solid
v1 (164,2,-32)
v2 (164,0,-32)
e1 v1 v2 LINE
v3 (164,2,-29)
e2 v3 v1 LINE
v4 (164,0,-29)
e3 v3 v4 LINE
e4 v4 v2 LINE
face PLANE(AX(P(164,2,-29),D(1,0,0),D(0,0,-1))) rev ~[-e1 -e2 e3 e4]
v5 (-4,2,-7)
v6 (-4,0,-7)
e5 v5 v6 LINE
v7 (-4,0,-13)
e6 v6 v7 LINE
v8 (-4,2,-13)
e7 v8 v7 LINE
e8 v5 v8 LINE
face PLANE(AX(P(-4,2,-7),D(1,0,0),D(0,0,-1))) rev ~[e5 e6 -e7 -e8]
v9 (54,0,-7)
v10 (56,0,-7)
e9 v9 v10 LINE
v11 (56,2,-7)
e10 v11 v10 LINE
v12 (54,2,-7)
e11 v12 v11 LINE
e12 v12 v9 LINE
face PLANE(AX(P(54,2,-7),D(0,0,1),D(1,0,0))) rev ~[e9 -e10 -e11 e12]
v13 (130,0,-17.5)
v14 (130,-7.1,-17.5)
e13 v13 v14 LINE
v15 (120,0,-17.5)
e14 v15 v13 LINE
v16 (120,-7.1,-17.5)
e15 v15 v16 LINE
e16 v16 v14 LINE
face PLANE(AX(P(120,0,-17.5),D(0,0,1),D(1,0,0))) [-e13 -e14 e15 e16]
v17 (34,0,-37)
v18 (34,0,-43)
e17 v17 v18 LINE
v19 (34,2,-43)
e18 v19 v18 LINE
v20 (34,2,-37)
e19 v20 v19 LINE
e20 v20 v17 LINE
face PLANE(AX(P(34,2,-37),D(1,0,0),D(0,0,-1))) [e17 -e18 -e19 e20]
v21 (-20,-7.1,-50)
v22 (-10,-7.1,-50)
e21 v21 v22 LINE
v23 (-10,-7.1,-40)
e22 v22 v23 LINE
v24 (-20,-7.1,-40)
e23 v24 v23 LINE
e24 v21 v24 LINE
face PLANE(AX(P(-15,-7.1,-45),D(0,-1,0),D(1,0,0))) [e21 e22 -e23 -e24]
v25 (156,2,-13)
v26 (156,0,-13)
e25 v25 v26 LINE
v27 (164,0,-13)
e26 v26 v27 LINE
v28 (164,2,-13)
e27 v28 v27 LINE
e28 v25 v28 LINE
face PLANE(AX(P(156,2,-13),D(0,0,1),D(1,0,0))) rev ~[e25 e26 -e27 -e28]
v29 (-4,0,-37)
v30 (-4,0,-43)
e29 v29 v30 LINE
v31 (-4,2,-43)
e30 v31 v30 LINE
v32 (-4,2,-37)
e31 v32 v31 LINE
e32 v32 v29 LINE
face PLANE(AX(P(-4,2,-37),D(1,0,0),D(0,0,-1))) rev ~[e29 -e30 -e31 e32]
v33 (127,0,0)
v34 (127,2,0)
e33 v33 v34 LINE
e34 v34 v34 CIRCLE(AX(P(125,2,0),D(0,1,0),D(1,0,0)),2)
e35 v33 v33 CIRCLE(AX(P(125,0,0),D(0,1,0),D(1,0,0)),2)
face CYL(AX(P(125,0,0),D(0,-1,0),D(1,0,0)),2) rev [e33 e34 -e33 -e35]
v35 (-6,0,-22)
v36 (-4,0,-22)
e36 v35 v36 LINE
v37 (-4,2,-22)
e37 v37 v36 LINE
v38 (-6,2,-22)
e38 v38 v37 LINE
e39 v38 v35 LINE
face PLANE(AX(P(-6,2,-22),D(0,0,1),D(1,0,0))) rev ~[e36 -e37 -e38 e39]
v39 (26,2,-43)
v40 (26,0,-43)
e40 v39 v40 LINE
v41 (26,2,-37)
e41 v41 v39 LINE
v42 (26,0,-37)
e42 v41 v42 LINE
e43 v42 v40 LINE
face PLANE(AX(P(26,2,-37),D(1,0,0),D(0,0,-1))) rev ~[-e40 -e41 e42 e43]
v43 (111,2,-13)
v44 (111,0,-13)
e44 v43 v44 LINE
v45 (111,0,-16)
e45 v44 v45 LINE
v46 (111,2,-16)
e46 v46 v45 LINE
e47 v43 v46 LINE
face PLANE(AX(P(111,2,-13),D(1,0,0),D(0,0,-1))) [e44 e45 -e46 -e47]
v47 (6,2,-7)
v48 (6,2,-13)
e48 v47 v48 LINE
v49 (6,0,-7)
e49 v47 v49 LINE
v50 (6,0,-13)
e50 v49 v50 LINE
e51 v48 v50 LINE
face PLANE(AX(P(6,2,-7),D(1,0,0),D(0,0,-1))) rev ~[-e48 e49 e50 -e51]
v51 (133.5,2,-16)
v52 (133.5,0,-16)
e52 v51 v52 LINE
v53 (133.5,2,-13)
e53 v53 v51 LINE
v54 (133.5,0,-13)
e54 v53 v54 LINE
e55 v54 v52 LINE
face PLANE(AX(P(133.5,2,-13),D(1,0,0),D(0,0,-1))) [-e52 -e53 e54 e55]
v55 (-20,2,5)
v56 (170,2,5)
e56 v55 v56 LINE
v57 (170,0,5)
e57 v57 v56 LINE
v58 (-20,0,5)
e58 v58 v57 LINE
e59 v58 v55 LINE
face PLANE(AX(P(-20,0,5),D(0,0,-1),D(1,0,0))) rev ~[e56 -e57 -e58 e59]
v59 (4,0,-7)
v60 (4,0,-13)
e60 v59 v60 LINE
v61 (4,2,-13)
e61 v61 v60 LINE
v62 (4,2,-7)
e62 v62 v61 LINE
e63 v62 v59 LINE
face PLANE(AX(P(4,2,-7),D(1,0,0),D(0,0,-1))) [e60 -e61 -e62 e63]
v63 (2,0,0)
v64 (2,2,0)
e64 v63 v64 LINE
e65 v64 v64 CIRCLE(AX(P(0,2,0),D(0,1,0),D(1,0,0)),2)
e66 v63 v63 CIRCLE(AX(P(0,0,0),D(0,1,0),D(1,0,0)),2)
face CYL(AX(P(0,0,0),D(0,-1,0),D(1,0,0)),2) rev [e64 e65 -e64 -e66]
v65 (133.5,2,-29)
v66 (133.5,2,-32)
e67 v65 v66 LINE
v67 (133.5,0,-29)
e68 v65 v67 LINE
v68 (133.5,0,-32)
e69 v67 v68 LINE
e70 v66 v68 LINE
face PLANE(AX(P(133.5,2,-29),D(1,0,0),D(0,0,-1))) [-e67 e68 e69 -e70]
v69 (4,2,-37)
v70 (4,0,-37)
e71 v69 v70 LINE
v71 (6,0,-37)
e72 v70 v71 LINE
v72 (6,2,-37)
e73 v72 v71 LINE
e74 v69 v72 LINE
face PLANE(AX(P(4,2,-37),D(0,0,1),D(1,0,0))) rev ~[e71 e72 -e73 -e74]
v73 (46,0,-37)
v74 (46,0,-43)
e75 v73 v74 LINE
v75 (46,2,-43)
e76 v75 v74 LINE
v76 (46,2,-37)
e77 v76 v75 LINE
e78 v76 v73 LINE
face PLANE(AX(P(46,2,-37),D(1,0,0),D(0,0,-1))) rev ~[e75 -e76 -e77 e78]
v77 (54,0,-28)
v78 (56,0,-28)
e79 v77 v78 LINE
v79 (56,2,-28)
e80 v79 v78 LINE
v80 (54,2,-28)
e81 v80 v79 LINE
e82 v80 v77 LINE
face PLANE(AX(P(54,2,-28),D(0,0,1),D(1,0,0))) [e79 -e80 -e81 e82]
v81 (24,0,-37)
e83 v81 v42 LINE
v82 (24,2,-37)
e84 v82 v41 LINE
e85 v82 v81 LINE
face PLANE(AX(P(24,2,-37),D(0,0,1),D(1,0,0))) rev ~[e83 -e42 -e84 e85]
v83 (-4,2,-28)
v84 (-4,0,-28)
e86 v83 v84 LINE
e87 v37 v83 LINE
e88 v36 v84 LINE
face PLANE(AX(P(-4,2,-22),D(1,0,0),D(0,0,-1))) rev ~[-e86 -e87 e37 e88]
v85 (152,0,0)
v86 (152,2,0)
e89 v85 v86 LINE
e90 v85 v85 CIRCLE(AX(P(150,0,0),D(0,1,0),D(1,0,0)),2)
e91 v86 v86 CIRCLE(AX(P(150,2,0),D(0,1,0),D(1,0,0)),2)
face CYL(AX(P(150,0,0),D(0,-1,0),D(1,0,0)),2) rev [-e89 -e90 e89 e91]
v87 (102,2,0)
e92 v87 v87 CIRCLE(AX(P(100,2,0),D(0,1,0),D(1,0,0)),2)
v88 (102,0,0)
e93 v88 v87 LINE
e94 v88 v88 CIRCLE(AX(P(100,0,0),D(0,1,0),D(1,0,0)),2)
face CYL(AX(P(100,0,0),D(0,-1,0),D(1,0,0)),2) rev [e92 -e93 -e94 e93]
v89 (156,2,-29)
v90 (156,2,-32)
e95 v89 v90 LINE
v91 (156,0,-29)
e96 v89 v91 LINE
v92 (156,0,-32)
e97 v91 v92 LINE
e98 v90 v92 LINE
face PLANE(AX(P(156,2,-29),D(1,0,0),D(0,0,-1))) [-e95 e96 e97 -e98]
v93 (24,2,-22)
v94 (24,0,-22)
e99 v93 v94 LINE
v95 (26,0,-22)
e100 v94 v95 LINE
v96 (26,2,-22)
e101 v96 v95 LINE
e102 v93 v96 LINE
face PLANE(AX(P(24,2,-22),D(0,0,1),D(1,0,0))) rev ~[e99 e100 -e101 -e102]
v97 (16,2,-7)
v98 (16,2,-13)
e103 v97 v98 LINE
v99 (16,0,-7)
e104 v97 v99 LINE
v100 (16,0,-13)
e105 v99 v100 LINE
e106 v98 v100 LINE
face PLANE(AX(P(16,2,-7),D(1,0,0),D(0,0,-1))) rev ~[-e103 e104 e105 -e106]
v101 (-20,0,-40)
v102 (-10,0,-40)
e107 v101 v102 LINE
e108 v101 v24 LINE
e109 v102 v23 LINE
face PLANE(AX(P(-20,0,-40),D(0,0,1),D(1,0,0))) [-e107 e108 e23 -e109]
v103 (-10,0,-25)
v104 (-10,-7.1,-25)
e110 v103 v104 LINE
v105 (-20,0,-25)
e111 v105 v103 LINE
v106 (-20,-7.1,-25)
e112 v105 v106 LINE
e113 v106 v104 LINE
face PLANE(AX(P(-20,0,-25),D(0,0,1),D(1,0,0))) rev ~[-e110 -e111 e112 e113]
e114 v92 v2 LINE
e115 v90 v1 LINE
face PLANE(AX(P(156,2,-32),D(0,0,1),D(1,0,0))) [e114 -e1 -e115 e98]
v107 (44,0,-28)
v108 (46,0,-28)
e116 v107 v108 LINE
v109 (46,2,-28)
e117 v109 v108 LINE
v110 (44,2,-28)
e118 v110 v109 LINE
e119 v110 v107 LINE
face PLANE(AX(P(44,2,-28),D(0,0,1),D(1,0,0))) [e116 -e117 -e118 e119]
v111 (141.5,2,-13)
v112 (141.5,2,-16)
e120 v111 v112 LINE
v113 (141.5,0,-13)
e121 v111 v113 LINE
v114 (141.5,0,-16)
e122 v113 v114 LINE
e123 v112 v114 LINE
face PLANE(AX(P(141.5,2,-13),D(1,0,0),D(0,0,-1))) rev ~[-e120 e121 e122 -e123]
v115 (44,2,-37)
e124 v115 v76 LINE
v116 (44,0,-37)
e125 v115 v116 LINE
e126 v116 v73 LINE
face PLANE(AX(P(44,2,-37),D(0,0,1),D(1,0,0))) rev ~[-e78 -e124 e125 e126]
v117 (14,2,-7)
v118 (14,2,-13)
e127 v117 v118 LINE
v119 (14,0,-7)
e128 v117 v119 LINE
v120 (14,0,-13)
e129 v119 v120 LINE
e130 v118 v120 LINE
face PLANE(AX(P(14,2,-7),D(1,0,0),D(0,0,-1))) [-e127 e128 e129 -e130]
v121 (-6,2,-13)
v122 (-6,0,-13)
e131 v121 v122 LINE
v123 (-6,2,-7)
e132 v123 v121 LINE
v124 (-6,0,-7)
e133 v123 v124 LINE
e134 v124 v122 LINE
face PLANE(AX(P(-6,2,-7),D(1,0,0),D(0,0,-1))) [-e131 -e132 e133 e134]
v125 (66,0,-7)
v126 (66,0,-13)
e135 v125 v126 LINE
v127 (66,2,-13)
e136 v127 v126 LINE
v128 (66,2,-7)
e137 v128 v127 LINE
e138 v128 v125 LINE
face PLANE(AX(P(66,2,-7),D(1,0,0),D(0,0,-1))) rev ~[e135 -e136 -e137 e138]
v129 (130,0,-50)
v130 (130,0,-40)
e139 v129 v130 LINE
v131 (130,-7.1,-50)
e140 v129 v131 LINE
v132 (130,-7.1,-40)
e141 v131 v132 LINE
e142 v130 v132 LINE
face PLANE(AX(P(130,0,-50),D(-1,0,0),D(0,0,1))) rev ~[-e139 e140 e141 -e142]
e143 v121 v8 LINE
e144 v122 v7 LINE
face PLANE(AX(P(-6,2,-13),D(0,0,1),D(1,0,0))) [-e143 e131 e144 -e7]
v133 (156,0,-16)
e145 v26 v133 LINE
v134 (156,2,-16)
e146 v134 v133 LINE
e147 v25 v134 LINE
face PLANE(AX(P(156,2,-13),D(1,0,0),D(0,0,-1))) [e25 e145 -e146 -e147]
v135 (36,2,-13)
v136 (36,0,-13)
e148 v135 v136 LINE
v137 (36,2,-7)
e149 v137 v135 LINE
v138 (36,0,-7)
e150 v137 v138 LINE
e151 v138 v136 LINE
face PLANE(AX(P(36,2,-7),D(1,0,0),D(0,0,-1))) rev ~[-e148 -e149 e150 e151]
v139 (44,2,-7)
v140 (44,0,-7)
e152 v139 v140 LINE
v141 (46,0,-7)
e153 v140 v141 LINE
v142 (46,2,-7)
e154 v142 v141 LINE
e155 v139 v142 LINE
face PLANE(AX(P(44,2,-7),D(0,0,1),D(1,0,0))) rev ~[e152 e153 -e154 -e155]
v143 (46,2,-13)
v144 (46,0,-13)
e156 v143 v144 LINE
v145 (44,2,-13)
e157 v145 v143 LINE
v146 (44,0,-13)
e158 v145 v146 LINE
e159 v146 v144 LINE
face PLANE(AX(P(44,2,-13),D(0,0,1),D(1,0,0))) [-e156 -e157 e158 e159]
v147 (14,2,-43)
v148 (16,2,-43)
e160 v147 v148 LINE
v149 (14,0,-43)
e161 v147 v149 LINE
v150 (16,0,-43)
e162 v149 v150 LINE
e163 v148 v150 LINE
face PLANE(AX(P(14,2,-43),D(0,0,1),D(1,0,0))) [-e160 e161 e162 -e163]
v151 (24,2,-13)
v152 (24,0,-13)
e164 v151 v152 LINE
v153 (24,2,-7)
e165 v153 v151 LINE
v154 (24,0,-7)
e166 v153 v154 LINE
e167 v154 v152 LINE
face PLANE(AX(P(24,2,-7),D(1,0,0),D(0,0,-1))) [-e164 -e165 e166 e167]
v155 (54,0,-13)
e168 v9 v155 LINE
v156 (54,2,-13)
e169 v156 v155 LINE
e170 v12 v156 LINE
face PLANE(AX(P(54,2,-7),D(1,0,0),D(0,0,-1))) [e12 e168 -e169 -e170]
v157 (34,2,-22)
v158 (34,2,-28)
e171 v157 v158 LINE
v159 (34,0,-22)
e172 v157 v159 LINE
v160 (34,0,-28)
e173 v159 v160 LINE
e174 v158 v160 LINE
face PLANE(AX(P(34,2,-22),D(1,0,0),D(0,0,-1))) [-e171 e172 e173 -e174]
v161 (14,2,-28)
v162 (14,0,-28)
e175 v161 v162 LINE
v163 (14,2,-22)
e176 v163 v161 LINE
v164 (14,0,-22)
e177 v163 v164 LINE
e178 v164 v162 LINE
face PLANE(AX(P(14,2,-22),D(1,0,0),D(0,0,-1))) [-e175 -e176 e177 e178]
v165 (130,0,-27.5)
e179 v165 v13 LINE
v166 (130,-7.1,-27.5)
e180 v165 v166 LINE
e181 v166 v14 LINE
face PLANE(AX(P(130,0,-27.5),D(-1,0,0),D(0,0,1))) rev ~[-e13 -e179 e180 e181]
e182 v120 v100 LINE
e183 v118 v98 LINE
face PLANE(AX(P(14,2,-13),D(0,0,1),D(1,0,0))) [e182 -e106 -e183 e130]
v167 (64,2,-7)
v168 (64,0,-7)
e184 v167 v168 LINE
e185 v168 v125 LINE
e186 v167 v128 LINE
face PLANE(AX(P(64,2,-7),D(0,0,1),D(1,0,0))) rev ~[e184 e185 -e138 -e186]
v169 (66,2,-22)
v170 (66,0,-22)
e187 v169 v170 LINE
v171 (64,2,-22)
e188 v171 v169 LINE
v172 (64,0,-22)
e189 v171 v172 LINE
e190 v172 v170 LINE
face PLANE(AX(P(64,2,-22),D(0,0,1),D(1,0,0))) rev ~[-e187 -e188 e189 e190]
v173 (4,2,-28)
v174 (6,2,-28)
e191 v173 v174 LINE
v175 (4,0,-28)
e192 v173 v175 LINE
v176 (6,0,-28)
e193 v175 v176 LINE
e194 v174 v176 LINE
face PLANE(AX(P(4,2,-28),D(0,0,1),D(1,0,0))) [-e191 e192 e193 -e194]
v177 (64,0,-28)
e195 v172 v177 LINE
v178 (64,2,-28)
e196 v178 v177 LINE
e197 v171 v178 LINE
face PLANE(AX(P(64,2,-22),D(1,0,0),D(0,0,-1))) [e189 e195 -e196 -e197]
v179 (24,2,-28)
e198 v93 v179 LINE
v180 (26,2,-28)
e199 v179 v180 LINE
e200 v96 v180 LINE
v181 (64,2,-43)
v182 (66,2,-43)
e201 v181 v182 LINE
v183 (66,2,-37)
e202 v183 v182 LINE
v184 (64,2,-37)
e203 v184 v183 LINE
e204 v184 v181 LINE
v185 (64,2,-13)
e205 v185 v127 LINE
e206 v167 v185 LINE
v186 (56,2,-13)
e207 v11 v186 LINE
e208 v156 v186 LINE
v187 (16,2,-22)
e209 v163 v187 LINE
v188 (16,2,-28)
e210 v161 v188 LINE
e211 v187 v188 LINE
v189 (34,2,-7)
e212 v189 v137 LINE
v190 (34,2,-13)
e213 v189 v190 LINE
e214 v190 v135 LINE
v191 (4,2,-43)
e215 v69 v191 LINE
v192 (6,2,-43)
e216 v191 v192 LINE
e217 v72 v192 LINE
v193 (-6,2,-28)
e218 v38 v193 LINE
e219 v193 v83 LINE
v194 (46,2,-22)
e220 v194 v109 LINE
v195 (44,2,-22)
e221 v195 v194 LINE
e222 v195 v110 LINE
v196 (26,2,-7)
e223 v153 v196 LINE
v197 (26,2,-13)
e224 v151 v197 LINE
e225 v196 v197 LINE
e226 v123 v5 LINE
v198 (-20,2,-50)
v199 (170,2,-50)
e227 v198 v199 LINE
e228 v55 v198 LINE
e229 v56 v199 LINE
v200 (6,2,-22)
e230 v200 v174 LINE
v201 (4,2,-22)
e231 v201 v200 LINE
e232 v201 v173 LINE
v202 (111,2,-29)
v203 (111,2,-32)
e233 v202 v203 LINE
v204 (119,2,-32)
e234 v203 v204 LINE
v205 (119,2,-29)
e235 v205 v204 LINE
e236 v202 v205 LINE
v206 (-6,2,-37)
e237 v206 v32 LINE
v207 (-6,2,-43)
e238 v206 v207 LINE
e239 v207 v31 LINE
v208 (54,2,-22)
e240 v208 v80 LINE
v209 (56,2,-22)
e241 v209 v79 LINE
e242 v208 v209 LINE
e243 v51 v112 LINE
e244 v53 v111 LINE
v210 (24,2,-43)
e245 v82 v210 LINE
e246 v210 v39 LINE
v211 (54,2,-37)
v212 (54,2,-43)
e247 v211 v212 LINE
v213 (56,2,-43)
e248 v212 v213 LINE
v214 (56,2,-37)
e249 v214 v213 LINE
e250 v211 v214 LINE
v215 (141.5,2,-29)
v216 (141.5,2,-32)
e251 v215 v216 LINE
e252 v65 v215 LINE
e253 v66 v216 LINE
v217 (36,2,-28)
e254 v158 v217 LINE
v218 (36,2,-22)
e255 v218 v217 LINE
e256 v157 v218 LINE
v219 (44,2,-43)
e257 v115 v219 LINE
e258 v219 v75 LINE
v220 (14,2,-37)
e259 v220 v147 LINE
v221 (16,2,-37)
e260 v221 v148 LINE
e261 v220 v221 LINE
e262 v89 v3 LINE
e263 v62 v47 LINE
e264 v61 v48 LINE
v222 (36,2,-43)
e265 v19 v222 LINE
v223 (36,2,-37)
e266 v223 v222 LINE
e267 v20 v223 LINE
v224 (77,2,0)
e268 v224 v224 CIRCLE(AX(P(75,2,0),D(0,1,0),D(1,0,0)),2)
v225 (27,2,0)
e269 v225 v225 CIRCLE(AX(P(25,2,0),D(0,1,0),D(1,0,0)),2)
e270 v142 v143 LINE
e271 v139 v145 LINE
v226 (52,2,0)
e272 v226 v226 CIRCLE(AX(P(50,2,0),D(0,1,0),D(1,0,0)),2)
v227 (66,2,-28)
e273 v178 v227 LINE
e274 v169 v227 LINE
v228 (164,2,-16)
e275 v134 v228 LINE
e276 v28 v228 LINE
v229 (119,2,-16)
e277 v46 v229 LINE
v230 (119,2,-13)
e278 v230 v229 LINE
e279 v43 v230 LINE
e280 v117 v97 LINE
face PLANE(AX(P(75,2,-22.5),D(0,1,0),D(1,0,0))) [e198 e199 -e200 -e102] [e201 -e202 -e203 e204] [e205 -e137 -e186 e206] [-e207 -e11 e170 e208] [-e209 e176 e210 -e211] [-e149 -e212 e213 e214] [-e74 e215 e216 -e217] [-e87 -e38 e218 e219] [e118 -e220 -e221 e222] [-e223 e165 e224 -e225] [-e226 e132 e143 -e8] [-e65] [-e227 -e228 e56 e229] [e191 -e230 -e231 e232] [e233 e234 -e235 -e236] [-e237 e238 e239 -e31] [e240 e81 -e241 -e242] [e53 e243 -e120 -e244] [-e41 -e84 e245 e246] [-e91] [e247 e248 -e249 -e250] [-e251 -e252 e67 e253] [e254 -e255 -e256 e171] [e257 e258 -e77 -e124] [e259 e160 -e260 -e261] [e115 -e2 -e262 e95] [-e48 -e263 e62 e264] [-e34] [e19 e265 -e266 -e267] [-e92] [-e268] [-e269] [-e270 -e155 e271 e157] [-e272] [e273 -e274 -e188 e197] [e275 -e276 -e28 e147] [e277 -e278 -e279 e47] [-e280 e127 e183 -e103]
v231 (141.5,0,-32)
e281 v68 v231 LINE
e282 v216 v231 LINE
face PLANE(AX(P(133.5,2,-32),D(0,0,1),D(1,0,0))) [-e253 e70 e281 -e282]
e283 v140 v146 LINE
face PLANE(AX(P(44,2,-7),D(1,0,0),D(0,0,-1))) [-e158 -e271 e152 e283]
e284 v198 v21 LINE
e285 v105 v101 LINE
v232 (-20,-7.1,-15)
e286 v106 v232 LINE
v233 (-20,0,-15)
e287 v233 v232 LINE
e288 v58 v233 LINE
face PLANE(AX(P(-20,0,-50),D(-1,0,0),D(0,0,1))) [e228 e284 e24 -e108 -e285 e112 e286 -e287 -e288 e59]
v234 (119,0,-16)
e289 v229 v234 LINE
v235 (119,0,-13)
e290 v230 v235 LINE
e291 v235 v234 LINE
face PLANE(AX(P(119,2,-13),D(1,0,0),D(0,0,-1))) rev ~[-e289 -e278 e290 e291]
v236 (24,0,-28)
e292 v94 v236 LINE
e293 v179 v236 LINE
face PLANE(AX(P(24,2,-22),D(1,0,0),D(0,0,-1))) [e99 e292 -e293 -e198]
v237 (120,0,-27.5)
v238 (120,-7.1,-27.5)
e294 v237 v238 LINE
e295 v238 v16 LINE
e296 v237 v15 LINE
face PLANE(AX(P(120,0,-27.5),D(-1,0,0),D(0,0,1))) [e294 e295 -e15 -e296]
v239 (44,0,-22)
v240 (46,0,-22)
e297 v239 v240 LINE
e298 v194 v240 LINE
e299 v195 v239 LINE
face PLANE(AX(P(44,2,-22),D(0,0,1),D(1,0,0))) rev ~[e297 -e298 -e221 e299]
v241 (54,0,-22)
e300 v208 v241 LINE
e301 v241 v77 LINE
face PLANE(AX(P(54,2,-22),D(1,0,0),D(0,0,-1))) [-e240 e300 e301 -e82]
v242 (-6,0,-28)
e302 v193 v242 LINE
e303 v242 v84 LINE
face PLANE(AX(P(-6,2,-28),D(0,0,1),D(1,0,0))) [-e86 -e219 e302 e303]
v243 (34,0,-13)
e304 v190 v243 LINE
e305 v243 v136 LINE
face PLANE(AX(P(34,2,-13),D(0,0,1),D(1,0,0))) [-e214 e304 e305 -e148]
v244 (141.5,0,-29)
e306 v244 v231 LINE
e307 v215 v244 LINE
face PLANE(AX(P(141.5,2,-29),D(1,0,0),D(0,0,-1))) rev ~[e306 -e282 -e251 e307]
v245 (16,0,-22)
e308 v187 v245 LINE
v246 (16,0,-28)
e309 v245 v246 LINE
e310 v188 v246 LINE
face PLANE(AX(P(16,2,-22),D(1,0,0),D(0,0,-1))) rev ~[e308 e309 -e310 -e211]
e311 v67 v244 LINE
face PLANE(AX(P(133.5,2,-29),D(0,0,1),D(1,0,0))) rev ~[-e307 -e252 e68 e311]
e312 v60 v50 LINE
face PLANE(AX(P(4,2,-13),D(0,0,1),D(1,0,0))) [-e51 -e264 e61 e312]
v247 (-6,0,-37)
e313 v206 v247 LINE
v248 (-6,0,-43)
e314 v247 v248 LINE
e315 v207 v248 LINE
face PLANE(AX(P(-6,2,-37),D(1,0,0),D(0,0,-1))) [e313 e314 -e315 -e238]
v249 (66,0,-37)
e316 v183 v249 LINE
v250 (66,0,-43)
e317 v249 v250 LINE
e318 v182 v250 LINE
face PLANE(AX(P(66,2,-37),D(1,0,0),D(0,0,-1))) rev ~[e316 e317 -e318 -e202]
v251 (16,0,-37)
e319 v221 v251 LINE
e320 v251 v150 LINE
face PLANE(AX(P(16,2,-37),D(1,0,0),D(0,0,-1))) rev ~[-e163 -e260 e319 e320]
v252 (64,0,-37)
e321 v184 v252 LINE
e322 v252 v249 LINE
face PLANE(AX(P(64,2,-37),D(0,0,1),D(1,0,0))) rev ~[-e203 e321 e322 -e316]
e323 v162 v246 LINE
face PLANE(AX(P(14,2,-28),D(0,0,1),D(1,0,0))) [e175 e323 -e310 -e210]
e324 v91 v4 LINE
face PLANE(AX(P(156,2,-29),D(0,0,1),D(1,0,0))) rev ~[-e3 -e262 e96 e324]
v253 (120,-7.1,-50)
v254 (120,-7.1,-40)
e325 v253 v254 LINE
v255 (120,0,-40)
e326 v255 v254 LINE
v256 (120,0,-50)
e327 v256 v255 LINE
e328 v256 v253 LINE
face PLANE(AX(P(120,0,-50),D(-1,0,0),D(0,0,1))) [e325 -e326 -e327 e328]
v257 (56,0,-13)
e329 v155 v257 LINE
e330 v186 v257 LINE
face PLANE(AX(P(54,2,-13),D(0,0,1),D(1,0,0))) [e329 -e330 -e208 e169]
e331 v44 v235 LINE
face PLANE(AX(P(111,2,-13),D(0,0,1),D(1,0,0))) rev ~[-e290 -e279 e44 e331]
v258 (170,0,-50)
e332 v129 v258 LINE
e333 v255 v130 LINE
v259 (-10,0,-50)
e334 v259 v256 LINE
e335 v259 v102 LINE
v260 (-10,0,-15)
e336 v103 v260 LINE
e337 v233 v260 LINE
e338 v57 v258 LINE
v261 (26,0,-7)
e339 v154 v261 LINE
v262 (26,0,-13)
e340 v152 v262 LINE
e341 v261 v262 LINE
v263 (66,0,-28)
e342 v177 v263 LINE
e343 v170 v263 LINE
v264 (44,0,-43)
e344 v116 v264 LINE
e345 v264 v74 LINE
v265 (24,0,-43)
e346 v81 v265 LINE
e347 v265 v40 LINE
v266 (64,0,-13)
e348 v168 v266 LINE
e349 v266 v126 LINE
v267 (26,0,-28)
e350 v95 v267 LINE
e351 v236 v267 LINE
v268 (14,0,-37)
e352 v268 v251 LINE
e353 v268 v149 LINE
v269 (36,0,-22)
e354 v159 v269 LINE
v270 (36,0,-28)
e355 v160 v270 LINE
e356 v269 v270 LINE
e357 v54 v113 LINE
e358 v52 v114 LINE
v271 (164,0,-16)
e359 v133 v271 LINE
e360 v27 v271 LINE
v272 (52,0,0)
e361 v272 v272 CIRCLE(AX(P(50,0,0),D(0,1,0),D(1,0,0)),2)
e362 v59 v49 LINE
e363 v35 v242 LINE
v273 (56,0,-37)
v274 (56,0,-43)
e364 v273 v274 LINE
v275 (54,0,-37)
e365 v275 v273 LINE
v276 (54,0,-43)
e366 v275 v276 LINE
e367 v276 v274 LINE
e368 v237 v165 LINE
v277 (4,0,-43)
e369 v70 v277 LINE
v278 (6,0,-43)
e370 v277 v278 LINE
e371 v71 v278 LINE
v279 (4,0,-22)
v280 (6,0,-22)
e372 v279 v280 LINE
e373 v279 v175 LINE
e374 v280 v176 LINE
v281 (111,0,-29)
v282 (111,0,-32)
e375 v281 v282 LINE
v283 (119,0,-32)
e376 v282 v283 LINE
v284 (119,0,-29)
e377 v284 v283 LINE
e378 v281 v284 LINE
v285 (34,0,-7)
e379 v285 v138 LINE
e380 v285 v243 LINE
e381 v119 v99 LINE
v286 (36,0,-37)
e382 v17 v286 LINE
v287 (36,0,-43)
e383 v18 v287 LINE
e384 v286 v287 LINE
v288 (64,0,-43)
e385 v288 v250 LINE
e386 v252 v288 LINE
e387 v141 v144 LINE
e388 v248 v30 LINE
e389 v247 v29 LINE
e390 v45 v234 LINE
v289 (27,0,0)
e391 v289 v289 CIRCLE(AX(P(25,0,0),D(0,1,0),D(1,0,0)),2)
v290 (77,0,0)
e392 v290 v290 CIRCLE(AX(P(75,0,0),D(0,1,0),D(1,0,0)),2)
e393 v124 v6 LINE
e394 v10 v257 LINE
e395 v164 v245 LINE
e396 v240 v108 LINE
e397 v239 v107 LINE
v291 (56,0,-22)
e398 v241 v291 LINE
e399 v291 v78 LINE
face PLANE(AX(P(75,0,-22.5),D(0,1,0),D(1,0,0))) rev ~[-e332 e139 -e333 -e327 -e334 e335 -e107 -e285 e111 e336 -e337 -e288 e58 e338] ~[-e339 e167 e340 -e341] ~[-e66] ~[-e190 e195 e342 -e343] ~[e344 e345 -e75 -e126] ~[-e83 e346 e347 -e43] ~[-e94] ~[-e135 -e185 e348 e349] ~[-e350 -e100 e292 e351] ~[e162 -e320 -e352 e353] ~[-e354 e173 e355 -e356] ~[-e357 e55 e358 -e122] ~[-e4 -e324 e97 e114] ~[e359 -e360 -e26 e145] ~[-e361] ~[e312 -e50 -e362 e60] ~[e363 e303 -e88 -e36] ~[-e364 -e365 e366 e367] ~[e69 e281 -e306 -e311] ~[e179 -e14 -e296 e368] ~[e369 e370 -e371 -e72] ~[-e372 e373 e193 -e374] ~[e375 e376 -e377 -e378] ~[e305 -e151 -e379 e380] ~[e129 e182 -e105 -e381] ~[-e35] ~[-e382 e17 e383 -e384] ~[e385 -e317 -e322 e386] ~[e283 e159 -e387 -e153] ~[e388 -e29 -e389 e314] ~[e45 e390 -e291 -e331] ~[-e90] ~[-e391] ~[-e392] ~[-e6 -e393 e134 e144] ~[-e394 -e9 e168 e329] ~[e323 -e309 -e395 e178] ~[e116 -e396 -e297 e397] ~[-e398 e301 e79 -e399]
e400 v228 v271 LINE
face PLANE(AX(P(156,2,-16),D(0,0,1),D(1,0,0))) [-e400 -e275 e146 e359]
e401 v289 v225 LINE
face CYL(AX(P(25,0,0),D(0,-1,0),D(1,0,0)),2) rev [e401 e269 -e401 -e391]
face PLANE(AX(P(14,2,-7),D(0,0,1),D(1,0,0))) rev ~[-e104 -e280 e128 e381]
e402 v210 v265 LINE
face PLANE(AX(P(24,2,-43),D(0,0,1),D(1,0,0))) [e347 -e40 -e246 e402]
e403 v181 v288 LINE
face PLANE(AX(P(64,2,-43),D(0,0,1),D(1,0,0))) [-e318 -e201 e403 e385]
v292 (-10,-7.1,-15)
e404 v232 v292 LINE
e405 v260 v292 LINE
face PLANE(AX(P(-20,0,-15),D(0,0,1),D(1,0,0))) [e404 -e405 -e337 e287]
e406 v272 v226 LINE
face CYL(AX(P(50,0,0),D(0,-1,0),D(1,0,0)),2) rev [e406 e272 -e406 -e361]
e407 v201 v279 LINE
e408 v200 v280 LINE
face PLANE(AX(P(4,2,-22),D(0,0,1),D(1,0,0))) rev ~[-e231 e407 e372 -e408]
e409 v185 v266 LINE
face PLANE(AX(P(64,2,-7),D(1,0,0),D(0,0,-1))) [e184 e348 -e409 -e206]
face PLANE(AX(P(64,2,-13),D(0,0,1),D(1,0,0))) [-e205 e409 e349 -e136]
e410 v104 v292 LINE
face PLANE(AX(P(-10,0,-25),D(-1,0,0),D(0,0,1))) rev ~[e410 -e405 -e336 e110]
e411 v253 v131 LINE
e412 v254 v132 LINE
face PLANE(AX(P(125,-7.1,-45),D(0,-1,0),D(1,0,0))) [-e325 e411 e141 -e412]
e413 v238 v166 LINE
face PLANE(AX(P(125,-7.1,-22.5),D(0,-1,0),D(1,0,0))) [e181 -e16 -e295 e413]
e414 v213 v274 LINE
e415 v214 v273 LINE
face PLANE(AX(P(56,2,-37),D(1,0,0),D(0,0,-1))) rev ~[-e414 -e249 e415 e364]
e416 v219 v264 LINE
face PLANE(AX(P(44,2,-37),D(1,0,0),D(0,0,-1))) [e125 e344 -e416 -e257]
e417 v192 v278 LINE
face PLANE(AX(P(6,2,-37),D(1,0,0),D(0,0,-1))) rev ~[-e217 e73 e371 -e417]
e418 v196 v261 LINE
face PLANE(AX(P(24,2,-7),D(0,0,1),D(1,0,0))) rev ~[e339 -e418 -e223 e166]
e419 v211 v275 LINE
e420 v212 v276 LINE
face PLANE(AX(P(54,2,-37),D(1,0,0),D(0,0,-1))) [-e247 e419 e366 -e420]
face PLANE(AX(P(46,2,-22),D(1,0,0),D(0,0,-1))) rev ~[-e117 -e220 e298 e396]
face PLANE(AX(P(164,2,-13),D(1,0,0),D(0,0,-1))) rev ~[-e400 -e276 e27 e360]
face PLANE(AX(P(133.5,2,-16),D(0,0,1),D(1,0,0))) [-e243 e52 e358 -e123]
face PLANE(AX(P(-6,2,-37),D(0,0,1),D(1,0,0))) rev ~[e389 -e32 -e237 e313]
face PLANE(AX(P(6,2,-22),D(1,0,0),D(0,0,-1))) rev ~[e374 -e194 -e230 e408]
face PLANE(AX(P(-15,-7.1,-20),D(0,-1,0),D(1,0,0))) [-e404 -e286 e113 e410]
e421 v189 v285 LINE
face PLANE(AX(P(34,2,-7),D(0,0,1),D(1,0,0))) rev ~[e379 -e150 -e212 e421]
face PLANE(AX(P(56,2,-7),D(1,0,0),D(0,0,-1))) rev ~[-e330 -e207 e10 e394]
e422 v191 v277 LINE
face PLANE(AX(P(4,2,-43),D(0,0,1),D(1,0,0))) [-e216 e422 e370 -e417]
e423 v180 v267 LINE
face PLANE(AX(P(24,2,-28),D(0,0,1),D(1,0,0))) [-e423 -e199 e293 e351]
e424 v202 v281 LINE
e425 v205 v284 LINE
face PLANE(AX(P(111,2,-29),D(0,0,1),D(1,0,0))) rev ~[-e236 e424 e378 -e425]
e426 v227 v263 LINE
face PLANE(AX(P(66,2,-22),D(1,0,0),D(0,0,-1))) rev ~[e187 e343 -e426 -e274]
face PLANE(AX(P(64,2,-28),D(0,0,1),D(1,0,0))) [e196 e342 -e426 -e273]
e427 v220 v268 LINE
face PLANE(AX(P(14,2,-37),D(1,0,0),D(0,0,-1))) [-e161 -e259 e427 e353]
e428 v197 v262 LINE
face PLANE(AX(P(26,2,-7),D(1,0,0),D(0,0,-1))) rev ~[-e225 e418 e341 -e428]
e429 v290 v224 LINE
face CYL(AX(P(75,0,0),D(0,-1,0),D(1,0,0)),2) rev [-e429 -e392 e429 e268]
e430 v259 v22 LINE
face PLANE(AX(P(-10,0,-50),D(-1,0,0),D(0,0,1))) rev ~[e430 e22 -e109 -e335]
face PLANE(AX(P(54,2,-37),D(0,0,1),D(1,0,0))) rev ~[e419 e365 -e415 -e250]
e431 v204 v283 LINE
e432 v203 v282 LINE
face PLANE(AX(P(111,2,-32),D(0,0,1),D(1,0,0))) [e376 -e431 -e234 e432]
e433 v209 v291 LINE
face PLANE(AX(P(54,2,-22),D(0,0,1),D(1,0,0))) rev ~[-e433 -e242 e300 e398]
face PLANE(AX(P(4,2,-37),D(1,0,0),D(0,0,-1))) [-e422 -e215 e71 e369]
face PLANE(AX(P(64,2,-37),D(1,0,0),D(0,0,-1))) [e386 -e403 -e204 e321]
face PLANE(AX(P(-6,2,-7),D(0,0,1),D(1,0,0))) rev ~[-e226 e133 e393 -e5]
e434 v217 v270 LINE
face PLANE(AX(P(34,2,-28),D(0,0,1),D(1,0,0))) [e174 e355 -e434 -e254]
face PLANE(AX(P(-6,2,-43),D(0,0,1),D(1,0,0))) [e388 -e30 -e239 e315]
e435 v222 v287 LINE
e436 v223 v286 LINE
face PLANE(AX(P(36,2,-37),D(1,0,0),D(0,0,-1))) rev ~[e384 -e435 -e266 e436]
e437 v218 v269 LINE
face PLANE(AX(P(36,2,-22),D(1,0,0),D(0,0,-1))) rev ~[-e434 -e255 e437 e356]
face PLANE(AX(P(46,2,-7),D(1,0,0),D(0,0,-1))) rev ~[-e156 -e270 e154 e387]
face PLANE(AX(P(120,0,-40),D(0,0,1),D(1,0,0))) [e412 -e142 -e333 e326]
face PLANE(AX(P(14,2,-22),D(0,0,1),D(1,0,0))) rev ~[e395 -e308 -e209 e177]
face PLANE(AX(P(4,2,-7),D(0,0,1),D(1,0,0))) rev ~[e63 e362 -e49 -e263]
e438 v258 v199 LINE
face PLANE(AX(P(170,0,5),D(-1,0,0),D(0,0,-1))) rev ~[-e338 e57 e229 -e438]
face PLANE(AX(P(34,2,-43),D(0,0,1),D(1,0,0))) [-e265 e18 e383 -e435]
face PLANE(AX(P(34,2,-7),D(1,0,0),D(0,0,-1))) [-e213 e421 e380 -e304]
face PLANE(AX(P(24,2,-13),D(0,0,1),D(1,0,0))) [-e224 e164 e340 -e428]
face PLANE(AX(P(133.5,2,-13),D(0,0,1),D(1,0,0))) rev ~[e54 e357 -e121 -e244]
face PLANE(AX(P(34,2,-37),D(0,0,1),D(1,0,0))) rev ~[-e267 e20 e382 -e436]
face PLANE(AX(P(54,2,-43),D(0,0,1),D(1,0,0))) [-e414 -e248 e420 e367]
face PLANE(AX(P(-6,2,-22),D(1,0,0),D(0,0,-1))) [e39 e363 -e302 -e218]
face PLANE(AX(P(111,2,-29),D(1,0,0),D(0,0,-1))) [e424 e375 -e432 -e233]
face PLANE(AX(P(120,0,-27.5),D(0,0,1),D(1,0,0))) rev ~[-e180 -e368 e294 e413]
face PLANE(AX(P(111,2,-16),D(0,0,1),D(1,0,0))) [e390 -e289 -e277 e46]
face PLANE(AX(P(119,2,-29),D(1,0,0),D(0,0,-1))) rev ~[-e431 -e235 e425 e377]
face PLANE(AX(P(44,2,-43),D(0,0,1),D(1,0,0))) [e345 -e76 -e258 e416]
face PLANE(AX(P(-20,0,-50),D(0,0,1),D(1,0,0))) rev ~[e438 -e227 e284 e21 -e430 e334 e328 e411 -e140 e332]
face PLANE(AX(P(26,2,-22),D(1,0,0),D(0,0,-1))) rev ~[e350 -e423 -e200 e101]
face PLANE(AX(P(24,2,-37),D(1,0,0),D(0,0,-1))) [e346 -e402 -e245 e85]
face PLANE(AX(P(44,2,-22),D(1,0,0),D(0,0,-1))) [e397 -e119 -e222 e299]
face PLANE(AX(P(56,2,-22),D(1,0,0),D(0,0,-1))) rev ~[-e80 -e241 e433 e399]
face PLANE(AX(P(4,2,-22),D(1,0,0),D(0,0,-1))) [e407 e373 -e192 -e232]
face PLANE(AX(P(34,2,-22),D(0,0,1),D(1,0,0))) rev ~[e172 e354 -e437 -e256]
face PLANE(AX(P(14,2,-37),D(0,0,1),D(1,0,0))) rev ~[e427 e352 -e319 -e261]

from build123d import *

# Parameters (mm, degrees)
SKETCH1_W                 = 190
SKETCH1_H                 = 55
SKETCH1_R                 = 2
BOSS_EXTRUDE1_DEPTH       = 2
SKETCH2_W                 = 10
SKETCH2_H                 = 10
BOSS_EXTRUDE2_DEPTH       = 7.1
LPATTERN1_COUNT           = 2
LPATTERN1_PITCH           = 22.5
SKETCH3_W                 = 8
SKETCH3_H                 = 3
CUT_EXTRUDE1_DEPTH        = 7.1
LPATTERN2_COUNT           = 3
LPATTERN2_PITCH           = 22.5
SKETCH4_W                 = 2
SKETCH4_H                 = 6
CUT_EXTRUDE2_DEPTH        = 7.1
LPATTERN3_COUNT           = 3
LPATTERN3_PITCH           = 15
LPATTERN4_COUNT           = 4
LPATTERN4_PITCH           = 20
LPATTERN4_COPY_1_SKETCH_W = 2
LPATTERN4_COPY_1_SKETCH_H = 6
LPATTERN4_COPY_1_DEPTH    = 7.1
LPATTERN4_COPY_2_SKETCH_W = 2
LPATTERN4_COPY_2_SKETCH_H = 6
LPATTERN4_COPY_2_DEPTH    = 7.1
LPATTERN4_COPY_3_SKETCH_W = 2
LPATTERN4_COPY_3_SKETCH_H = 6
LPATTERN4_COPY_3_DEPTH    = 7.1
LPATTERN4_COPY_4_SKETCH_W = 2
LPATTERN4_COPY_4_SKETCH_H = 6
LPATTERN4_COPY_4_DEPTH    = 7.1
LPATTERN4_COPY_5_SKETCH_W = 2
LPATTERN4_COPY_5_SKETCH_H = 6
LPATTERN4_COPY_5_DEPTH    = 7.1
LPATTERN4_COPY_6_SKETCH_W = 2
LPATTERN4_COPY_6_SKETCH_H = 6
LPATTERN4_COPY_6_DEPTH    = 7.1
SKETCH5_W                 = 10
SKETCH5_H                 = 10
BOSS_EXTRUDE3_DEPTH       = 7.1


with BuildPart() as part:
    # Sketch1 → Boss-Extrude1 (new body)
    with BuildSketch(Plane(origin=(0, 0, 0), x_dir=(1, 0, 0), z_dir=(0, 1, 0))):
        with Locations((75, 22.5)):
            Rectangle(SKETCH1_W, SKETCH1_H)
        Circle(SKETCH1_R, mode=Mode.SUBTRACT)
        with Locations((25, 0)):
            Circle(SKETCH1_R, mode=Mode.SUBTRACT)
        with Locations((50, 0)):
            Circle(SKETCH1_R, mode=Mode.SUBTRACT)
        with Locations((75, 0)):
            Circle(SKETCH1_R, mode=Mode.SUBTRACT)
        with Locations((100, 0)):
            Circle(SKETCH1_R, mode=Mode.SUBTRACT)
        with Locations((125, 0)):
            Circle(SKETCH1_R, mode=Mode.SUBTRACT)
        with Locations((150, 0)):
            Circle(SKETCH1_R, mode=Mode.SUBTRACT)
    extrude(amount=BOSS_EXTRUDE1_DEPTH)

    # Sketch2 → Boss-Extrude2 (add)
    with BuildSketch(Plane.XZ):
        with Locations((125, -22.5)):
            Rectangle(SKETCH2_W, SKETCH2_H)
    boss_extrude2 = extrude(amount=BOSS_EXTRUDE2_DEPTH)

    # LPattern1: Boss-Extrude2 ×2
    with Locations(*[(0, 0, -i * LPATTERN1_PITCH) for i in range(1, LPATTERN1_COUNT)]):
        add(boss_extrude2)

    # Sketch3 → Cut-Extrude1 (cut)
    with BuildSketch(Plane(origin=(0, 2, 0), x_dir=(1, 0, 0), z_dir=(0, 1, 0))):
        with Locations((160, 30.5)):
            Rectangle(SKETCH3_W, SKETCH3_H)
        with Locations((160, 14.5)):
            Rectangle(SKETCH3_W, SKETCH3_H)
    cut_extrude1 = extrude(amount=-CUT_EXTRUDE1_DEPTH, mode=Mode.SUBTRACT)

    # LPattern2: Cut-Extrude1 ×3
    with Locations(*[(-i * LPATTERN2_PITCH, 0, 0) for i in range(1, LPATTERN2_COUNT)]):
        add(cut_extrude1, mode=Mode.SUBTRACT)

    # Sketch4 → Cut-Extrude2 (cut)
    with BuildSketch(Plane(origin=(0, 2, 0), x_dir=(1, 0, 0), z_dir=(0, 1, 0))):
        with Locations((-5, 10)):
            Rectangle(SKETCH4_W, SKETCH4_H)
        with Locations((5, 10)):
            Rectangle(SKETCH4_W, SKETCH4_H)
    cut_extrude2 = extrude(amount=-CUT_EXTRUDE2_DEPTH, mode=Mode.SUBTRACT)

    # LPattern3: Cut-Extrude2 ×3
    with Locations(*[(0, 0, -i * LPATTERN3_PITCH) for i in range(1, LPATTERN3_COUNT)]):
        add(cut_extrude2, mode=Mode.SUBTRACT)

    # LPattern4: Cut-Extrude2 ×4
    with Locations(*[(i * LPATTERN4_PITCH, 0, 0) for i in range(1, LPATTERN4_COUNT)]):
        add(cut_extrude2, mode=Mode.SUBTRACT)

    # LPattern4 copy 1 sketch → LPattern4 copy 1 (cut)
    with BuildSketch(Plane(origin=(20, 2, -15), x_dir=(1, 0, 0), z_dir=(0, 1, 0))):
        with Locations((-5, 10)):
            Rectangle(LPATTERN4_COPY_1_SKETCH_W, LPATTERN4_COPY_1_SKETCH_H)
        with Locations((5, 10)):
            Rectangle(LPATTERN4_COPY_1_SKETCH_W, LPATTERN4_COPY_1_SKETCH_H)
    extrude(amount=-LPATTERN4_COPY_1_DEPTH, mode=Mode.SUBTRACT)

    # LPattern4 copy 2 sketch → LPattern4 copy 2 (cut)
    with BuildSketch(Plane(origin=(40, 2, -15), x_dir=(1, 0, 0), z_dir=(0, 1, 0))):
        with Locations((-5, 10)):
            Rectangle(LPATTERN4_COPY_2_SKETCH_W, LPATTERN4_COPY_2_SKETCH_H)
        with Locations((5, 10)):
            Rectangle(LPATTERN4_COPY_2_SKETCH_W, LPATTERN4_COPY_2_SKETCH_H)
    extrude(amount=-LPATTERN4_COPY_2_DEPTH, mode=Mode.SUBTRACT)

    # LPattern4 copy 3 sketch → LPattern4 copy 3 (cut)
    with BuildSketch(Plane(origin=(60, 2, -15), x_dir=(1, 0, 0), z_dir=(0, 1, 0))):
        with Locations((-5, 10)):
            Rectangle(LPATTERN4_COPY_3_SKETCH_W, LPATTERN4_COPY_3_SKETCH_H)
        with Locations((5, 10)):
            Rectangle(LPATTERN4_COPY_3_SKETCH_W, LPATTERN4_COPY_3_SKETCH_H)
    extrude(amount=-LPATTERN4_COPY_3_DEPTH, mode=Mode.SUBTRACT)

    # LPattern4 copy 4 sketch → LPattern4 copy 4 (cut)
    with BuildSketch(Plane(origin=(20, 2, -30), x_dir=(1, 0, 0), z_dir=(0, 1, 0))):
        with Locations((-5, 10)):
            Rectangle(LPATTERN4_COPY_4_SKETCH_W, LPATTERN4_COPY_4_SKETCH_H)
        with Locations((5, 10)):
            Rectangle(LPATTERN4_COPY_4_SKETCH_W, LPATTERN4_COPY_4_SKETCH_H)
    extrude(amount=-LPATTERN4_COPY_4_DEPTH, mode=Mode.SUBTRACT)

    # LPattern4 copy 5 sketch → LPattern4 copy 5 (cut)
    with BuildSketch(Plane(origin=(40, 2, -30), x_dir=(1, 0, 0), z_dir=(0, 1, 0))):
        with Locations((-5, 10)):
            Rectangle(LPATTERN4_COPY_5_SKETCH_W, LPATTERN4_COPY_5_SKETCH_H)
        with Locations((5, 10)):
            Rectangle(LPATTERN4_COPY_5_SKETCH_W, LPATTERN4_COPY_5_SKETCH_H)
    extrude(amount=-LPATTERN4_COPY_5_DEPTH, mode=Mode.SUBTRACT)

    # LPattern4 copy 6 sketch → LPattern4 copy 6 (cut)
    with BuildSketch(Plane(origin=(60, 2, -30), x_dir=(1, 0, 0), z_dir=(0, 1, 0))):
        with Locations((-5, 10)):
            Rectangle(LPATTERN4_COPY_6_SKETCH_W, LPATTERN4_COPY_6_SKETCH_H)
        with Locations((5, 10)):
            Rectangle(LPATTERN4_COPY_6_SKETCH_W, LPATTERN4_COPY_6_SKETCH_H)
    extrude(amount=-LPATTERN4_COPY_6_DEPTH, mode=Mode.SUBTRACT)

    # Sketch5 → Boss-Extrude3 (add)
    with BuildSketch(Plane.XZ):
        with Locations((-15, -45)):
            Rectangle(SKETCH5_W, SKETCH5_H)
        with Locations((-15, -20)):
            Rectangle(SKETCH5_W, SKETCH5_H)
    extrude(amount=BOSS_EXTRUDE3_DEPTH)


solid = part.part
